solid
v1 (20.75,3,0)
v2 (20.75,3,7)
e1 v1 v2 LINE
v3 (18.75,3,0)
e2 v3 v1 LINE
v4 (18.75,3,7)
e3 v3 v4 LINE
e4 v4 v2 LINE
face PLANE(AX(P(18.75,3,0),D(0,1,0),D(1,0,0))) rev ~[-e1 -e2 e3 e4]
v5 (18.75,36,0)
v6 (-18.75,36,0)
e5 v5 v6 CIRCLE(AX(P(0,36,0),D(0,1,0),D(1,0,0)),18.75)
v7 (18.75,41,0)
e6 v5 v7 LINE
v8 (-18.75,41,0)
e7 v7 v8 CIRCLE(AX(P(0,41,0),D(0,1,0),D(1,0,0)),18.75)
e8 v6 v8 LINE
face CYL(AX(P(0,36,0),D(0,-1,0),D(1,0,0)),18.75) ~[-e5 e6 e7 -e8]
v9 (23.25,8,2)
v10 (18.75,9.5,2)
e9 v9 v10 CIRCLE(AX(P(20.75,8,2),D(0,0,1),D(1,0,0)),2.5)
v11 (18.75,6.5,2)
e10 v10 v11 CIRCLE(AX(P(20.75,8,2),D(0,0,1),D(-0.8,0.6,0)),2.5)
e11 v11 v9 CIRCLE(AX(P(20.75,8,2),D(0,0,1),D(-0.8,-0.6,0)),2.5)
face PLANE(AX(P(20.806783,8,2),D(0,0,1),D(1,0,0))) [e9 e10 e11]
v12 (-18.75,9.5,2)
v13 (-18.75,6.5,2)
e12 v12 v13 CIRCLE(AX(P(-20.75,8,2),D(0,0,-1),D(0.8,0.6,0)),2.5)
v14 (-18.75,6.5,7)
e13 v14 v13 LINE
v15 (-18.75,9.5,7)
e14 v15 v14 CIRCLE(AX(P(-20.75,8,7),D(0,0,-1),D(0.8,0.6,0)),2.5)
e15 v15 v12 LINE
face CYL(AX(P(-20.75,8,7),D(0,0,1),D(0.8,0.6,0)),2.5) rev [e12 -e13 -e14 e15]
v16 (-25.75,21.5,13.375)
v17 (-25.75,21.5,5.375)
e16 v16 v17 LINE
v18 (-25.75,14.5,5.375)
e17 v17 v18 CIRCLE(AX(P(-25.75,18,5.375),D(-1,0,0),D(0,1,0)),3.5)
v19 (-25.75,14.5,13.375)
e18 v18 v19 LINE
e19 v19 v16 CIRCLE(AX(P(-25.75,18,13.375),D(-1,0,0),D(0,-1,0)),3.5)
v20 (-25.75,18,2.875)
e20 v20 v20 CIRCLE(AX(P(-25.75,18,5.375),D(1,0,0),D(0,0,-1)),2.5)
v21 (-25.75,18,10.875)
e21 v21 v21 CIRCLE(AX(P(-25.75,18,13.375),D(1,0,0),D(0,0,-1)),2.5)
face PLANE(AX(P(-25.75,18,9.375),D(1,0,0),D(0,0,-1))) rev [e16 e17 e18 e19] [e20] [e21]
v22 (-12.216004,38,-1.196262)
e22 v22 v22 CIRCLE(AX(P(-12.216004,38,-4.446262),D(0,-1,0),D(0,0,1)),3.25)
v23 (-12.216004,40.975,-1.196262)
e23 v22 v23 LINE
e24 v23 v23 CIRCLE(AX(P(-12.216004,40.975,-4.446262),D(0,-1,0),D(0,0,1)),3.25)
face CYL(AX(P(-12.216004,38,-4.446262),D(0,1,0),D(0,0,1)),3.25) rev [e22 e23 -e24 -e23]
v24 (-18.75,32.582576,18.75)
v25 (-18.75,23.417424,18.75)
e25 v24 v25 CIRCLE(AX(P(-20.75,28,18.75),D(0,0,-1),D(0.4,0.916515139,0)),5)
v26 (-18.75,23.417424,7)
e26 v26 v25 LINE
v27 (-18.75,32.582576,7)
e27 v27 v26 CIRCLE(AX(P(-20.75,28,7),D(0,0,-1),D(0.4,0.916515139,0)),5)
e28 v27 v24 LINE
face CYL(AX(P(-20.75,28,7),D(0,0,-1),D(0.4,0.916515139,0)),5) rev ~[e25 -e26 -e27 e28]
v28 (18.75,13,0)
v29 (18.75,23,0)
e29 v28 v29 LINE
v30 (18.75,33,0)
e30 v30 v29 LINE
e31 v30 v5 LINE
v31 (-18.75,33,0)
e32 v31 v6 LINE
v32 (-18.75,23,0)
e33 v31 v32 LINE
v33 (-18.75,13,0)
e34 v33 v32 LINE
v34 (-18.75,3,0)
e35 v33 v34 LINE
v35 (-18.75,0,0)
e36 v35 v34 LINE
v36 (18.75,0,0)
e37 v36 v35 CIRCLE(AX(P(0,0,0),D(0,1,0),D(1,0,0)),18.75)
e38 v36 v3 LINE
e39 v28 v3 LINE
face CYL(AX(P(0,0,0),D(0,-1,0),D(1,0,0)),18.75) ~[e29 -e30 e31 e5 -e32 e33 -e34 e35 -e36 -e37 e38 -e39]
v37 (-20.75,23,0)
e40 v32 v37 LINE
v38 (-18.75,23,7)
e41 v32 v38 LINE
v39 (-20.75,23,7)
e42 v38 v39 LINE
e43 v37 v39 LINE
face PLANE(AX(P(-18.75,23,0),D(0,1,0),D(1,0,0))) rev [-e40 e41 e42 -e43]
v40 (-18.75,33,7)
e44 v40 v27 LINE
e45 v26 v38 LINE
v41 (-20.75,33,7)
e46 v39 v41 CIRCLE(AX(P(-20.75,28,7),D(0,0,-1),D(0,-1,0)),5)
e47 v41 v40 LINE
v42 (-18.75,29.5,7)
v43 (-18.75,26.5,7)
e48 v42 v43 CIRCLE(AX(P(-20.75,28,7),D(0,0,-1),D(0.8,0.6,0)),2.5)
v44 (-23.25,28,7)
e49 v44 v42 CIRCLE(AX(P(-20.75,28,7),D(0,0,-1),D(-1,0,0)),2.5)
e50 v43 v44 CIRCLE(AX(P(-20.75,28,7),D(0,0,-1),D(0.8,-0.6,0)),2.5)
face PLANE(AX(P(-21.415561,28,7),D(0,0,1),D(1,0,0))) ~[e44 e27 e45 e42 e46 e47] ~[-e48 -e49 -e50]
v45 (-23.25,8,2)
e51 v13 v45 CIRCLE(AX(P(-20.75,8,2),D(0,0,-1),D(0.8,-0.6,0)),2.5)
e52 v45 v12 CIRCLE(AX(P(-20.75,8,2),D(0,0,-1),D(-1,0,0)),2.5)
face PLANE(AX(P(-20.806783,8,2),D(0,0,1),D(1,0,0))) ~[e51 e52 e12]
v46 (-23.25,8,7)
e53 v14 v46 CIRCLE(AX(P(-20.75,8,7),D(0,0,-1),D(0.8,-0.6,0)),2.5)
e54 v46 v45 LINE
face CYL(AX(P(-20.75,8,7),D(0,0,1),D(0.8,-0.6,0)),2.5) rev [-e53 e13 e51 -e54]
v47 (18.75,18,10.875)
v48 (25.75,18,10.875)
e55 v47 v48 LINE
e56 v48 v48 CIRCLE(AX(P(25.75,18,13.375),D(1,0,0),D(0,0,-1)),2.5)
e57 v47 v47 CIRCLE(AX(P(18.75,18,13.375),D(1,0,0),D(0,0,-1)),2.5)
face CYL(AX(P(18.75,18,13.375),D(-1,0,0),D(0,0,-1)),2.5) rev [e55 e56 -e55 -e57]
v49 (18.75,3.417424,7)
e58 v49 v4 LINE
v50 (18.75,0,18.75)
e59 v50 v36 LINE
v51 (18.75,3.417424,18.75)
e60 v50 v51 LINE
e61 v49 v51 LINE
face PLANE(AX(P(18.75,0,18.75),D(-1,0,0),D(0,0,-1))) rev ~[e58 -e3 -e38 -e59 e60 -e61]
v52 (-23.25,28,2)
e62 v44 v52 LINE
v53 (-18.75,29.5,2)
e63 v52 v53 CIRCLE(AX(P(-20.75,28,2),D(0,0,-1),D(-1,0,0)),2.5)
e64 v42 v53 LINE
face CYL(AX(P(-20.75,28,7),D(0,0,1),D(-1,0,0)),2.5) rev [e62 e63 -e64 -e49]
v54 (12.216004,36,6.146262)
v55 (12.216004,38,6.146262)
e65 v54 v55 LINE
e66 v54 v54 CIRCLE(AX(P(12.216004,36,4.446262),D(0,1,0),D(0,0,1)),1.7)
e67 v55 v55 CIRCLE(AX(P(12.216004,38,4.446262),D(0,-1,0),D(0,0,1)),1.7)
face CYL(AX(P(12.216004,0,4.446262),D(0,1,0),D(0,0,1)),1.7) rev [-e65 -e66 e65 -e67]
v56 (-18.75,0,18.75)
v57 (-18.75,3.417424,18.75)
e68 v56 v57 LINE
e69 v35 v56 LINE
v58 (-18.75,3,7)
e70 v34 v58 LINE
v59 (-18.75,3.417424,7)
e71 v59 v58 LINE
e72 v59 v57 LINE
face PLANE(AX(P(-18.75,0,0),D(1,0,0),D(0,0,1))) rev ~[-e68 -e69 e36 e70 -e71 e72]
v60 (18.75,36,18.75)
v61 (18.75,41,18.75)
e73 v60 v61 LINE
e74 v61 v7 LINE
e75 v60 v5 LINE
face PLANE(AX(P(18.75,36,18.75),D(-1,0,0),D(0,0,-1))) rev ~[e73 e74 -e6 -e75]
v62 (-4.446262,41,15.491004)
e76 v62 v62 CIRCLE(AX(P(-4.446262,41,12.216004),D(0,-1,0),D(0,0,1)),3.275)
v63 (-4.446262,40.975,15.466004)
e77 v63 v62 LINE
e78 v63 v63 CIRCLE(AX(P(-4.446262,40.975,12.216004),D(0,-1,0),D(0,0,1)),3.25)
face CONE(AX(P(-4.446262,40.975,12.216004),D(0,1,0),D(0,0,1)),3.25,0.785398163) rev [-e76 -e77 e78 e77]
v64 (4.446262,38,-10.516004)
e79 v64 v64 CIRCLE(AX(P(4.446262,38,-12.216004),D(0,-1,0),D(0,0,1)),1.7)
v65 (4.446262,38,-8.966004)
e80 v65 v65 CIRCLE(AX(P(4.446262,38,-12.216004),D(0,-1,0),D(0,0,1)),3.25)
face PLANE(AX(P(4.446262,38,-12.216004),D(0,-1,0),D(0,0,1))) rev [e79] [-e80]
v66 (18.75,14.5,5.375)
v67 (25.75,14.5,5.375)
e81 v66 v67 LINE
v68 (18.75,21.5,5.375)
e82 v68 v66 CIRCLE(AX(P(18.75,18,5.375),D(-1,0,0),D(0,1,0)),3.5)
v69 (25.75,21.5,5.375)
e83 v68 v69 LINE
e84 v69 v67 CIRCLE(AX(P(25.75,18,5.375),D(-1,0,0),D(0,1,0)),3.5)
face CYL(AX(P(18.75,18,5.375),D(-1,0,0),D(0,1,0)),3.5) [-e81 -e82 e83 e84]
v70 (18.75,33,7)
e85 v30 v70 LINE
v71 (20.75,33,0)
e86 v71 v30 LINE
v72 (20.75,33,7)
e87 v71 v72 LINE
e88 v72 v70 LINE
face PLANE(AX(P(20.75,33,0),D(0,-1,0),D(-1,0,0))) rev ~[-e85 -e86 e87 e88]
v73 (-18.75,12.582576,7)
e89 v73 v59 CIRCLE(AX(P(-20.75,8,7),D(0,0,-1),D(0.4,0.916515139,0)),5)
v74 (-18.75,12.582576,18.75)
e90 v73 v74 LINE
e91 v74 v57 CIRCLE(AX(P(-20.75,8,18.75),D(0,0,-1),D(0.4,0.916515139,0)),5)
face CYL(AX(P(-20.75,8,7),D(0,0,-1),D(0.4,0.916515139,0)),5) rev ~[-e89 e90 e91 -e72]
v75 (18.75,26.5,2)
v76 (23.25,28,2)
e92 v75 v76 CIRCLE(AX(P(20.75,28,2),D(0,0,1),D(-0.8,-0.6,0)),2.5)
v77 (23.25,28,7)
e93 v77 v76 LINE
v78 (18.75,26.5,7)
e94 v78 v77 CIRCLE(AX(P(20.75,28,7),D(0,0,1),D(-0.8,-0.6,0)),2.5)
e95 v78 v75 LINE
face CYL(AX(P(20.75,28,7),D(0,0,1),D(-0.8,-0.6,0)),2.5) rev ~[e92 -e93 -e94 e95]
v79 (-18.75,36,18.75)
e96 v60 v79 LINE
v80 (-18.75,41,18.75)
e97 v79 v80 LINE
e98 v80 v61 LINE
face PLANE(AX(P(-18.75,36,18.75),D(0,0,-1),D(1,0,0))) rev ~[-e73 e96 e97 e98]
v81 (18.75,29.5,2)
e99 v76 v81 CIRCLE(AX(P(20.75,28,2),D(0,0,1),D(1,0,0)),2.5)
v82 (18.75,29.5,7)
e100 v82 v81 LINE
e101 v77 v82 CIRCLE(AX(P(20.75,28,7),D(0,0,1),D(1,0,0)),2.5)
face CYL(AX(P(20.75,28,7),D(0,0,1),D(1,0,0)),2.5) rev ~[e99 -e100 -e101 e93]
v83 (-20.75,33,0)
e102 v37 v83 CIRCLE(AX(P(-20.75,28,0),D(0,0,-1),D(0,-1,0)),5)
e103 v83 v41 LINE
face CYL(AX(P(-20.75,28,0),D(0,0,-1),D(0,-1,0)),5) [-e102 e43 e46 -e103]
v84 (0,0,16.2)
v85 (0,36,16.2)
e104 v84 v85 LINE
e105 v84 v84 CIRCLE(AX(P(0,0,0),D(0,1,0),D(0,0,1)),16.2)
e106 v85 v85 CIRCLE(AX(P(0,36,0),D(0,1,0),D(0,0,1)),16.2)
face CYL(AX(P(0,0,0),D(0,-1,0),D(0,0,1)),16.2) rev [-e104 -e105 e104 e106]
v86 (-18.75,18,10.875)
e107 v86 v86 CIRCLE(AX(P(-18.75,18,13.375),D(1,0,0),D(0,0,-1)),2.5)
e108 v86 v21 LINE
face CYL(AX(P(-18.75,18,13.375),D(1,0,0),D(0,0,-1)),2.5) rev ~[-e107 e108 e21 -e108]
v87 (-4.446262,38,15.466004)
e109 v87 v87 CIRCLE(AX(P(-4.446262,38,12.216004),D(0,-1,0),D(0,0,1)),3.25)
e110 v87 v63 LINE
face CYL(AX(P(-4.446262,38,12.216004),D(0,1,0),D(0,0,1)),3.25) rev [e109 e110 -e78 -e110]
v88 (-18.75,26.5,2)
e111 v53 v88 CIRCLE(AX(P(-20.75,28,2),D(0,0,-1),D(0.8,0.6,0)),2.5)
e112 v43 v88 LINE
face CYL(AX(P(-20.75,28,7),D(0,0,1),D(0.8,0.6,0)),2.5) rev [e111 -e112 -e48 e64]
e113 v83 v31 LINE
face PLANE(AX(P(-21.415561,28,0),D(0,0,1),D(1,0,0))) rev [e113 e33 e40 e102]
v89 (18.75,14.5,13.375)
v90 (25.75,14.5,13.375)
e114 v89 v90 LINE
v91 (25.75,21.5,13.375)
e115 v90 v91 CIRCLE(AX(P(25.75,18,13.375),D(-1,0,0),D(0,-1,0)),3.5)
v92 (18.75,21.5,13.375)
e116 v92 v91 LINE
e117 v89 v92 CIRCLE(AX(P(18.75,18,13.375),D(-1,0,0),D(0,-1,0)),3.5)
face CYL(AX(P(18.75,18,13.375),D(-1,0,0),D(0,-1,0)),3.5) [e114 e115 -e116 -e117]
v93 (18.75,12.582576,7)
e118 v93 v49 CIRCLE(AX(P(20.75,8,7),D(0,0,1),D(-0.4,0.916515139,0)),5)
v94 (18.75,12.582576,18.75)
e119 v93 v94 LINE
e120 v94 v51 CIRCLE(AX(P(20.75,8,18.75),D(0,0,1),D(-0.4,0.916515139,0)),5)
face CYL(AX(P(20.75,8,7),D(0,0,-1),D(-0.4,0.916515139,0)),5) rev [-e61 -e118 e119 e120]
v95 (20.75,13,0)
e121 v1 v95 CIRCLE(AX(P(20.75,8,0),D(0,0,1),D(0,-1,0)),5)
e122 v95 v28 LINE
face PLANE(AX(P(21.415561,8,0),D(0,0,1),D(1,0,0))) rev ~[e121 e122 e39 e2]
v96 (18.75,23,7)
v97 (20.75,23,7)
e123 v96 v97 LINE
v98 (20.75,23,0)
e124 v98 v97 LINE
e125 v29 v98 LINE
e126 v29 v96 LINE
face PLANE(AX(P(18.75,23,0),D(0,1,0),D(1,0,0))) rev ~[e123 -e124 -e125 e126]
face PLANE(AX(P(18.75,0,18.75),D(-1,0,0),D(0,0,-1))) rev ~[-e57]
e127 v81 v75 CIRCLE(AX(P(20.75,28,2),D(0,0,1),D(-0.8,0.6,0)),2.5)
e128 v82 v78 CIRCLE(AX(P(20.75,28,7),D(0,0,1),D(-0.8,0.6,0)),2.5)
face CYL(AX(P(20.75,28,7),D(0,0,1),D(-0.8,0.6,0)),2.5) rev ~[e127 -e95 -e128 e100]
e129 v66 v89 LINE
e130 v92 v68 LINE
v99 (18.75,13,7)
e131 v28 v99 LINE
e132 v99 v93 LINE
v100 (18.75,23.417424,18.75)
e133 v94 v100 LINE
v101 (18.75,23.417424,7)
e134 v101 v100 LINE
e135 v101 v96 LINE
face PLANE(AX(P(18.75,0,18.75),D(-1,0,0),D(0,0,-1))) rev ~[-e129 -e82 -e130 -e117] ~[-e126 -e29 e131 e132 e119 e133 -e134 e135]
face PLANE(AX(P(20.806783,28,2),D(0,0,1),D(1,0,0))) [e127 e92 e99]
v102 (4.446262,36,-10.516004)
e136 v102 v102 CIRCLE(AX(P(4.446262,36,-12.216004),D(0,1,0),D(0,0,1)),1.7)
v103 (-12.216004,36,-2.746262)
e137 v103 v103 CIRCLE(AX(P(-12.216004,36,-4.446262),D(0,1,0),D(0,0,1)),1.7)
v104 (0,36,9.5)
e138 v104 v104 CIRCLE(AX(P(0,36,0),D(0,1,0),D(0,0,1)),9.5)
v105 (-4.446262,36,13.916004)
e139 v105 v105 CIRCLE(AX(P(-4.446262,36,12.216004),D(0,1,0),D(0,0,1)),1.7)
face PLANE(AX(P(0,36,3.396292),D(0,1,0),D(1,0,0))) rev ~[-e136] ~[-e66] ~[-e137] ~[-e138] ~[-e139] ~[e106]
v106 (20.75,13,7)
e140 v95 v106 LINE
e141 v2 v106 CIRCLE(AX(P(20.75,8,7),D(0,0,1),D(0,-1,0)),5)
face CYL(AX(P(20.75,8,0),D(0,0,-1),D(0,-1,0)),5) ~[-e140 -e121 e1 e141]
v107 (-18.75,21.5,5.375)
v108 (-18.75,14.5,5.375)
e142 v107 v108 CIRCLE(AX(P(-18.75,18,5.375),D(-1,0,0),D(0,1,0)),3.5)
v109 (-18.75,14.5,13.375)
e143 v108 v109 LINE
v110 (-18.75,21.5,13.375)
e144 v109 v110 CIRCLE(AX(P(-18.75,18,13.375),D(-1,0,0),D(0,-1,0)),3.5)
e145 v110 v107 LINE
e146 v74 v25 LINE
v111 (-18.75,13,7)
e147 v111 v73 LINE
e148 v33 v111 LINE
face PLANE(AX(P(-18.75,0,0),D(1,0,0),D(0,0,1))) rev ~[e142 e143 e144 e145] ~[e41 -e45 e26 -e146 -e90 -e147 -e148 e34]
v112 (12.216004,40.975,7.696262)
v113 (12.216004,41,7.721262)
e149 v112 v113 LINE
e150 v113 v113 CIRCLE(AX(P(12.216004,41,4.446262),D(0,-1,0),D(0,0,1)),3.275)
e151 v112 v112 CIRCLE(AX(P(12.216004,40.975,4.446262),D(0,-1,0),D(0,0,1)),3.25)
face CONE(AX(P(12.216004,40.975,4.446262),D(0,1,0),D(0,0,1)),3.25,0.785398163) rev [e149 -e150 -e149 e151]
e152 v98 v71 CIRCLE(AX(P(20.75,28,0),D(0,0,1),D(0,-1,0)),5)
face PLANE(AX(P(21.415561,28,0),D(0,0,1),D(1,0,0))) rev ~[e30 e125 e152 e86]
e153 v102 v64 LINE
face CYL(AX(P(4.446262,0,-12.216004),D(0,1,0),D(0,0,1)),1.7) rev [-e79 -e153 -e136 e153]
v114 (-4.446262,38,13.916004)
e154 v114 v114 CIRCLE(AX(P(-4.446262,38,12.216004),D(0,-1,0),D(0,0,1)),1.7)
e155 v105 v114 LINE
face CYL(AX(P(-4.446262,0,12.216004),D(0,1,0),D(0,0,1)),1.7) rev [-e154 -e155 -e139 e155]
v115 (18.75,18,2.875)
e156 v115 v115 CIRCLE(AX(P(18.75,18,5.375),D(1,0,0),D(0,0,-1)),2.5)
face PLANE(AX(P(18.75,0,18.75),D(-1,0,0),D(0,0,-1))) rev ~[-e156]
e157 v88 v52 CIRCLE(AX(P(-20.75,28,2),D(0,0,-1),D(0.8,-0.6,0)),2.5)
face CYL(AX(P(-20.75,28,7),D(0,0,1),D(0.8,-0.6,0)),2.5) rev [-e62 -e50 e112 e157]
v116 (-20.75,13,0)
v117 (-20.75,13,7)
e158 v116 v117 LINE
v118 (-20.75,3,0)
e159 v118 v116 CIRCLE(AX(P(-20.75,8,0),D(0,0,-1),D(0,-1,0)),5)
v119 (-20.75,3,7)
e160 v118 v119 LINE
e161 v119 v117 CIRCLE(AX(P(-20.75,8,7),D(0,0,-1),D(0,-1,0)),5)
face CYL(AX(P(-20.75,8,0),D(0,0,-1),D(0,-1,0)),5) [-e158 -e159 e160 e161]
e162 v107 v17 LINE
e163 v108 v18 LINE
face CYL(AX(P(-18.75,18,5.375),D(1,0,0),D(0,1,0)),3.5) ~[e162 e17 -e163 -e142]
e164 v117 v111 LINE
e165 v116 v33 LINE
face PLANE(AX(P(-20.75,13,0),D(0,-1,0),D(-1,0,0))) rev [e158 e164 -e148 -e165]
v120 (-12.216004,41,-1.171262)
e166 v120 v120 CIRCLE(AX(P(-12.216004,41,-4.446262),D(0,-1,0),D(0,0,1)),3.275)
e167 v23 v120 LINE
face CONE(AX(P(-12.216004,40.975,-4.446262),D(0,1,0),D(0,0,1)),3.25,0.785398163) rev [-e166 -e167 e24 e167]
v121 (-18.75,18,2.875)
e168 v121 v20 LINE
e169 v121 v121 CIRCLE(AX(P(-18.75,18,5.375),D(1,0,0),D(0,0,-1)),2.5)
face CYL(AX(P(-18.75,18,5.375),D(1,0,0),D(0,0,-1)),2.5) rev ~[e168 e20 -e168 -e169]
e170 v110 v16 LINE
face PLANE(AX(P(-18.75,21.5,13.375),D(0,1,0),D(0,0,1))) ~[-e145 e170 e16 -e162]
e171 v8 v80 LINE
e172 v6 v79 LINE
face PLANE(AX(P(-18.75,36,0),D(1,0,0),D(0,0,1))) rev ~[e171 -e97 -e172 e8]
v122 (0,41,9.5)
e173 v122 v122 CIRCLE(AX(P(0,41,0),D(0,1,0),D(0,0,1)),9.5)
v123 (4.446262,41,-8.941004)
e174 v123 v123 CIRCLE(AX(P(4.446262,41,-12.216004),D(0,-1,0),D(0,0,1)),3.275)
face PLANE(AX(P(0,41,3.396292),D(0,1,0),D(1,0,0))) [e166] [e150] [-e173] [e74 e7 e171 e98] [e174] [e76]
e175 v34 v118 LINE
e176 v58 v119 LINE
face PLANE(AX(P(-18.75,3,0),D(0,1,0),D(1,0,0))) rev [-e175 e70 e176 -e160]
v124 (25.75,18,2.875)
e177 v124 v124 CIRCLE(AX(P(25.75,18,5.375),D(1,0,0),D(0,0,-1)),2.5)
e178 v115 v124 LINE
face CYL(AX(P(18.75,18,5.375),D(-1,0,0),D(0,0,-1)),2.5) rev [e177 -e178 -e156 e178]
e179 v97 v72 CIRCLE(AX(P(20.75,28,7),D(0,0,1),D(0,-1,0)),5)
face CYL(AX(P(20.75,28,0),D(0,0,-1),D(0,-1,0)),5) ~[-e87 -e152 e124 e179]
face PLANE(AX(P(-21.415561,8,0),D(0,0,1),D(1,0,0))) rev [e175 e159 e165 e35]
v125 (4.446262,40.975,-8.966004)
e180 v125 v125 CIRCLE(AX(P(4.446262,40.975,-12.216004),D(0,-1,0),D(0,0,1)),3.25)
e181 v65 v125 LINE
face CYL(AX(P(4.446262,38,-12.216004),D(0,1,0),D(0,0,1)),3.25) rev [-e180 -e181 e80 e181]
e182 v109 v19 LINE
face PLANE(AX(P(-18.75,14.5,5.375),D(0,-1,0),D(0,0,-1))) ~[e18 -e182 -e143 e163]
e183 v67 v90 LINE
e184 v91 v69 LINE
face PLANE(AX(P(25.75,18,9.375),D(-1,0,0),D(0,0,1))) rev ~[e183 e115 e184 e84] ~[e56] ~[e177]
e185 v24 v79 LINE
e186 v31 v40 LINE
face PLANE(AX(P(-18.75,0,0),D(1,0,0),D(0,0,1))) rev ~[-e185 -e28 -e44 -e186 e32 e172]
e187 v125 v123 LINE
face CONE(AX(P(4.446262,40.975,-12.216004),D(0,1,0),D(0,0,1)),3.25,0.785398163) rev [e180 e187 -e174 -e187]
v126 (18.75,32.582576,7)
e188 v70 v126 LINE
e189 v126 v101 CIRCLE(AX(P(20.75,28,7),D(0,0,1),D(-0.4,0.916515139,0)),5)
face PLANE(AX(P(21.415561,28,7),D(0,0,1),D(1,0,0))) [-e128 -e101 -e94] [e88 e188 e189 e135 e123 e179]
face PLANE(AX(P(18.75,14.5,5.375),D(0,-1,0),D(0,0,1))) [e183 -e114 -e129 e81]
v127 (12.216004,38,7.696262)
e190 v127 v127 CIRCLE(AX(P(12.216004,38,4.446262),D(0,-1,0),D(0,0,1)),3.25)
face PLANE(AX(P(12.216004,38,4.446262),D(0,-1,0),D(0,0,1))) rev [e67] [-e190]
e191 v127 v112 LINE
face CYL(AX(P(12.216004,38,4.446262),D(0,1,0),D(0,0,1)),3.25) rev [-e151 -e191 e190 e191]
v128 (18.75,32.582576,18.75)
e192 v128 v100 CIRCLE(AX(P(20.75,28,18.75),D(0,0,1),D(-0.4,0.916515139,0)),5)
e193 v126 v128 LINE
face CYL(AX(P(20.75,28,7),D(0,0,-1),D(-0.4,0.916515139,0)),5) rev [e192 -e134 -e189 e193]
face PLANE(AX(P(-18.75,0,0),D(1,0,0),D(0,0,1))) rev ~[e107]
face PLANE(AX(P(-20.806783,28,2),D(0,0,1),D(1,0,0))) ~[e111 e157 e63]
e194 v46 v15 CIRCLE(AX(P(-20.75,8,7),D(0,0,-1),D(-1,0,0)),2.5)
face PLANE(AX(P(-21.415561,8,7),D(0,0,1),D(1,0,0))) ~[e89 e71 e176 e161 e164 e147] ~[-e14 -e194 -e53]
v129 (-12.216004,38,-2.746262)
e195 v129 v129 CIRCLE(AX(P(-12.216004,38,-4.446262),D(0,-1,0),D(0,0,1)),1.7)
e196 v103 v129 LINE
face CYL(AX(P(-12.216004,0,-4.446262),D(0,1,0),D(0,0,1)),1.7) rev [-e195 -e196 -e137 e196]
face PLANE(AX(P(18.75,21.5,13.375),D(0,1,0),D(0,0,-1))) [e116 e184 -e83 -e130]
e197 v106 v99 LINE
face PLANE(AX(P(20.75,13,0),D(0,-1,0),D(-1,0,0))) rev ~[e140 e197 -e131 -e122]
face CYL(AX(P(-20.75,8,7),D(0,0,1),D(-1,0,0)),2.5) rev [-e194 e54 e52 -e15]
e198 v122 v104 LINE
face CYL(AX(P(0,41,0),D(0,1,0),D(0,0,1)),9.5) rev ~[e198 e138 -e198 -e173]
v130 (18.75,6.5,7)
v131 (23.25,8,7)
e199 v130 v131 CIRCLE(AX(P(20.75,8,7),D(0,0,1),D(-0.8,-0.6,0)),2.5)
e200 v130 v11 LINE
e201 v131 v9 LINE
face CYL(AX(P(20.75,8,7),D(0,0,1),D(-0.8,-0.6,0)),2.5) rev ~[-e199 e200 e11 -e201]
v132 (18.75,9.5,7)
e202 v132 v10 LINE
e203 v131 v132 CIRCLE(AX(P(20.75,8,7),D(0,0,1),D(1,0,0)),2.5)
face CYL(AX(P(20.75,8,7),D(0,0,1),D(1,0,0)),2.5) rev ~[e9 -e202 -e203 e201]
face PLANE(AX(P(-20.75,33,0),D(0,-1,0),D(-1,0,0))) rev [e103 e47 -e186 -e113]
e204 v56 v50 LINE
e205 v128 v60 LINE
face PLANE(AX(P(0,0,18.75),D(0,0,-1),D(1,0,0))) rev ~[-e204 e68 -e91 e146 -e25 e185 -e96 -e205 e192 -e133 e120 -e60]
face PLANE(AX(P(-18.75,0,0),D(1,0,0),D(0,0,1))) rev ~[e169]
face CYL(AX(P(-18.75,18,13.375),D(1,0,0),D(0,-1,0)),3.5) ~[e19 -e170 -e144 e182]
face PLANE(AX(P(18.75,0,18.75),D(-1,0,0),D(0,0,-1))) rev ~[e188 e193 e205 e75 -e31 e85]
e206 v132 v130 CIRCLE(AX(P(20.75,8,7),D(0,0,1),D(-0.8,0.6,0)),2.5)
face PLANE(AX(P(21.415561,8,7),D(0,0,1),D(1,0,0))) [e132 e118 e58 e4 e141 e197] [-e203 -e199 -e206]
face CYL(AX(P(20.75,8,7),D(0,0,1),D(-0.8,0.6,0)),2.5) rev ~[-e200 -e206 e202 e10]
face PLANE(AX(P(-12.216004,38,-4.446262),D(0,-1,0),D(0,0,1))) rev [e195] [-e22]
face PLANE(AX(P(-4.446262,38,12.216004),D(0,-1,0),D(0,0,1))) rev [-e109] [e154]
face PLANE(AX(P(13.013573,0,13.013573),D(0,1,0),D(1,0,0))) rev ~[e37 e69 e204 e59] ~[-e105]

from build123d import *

# Parameters (mm, degrees)
SKETCH1_R                     = 18.75
SKETCH1_R_2                   = 16.2
BOSS_EXTRUDE1_DEPTH           = 36
BOSS_EXTRUDE2_DEPTH           = 7
CUT_EXTRUDE2_START            = 7
CUT_EXTRUDE2_DEPTH            = 11.75
CUT_EXTRUDE5_START            = 7
CUT_EXTRUDE5_DEPTH            = 5
SKETCH8_R                     = 2.5
BOSS_EXTRUDE5_DEPTH           = 7
BOSS_EXTRUDE4_DEPTH           = 5
CUT_EXTRUDE3_REACH            = 53.919
SKETCH4_R                     = 9.5
CBORE_FOR_M3_SHCS1_AT_2_COUNT = 2
CBORE_FOR_M3_SHCS1_AT_2_PITCH = 18.384776311
CBORE_FOR_M3_SHCS1_AT_3_COUNT = 2
CBORE_FOR_M3_SHCS1_AT_3_PITCH = 26
CBORE_FOR_M3_SHCS1_AT_4_COUNT = 2
CBORE_FOR_M3_SHCS1_AT_4_PITCH = 18.384776311


with BuildPart() as part:
    # Sketch1 → Boss-Extrude1 (new body)
    # profile 1 of 3: a face of its own
    with BuildSketch(Plane(origin=(0, 0, 0), x_dir=(1, 0, 0), z_dir=(0, 1, 0))):
        with BuildLine():
            ThreePointArc((0, -18.75), (-13.258252147, -13.258252147), (-18.75, 0))
            Line((-18.75, 0), (-18.75, -18.75))
            Line((-18.75, -18.75), (0, -18.75))
        make_face()
    # profile 2 of 3: a face of its own
    with BuildSketch(Plane(origin=(0, 0, 0), x_dir=(1, 0, 0), z_dir=(0, 1, 0))):
        Circle(SKETCH1_R)
        with Locations(Location((0, 0, 0), (0, 0, 270))):
            Circle(SKETCH1_R_2, mode=Mode.SUBTRACT)
    # profile 3 of 3: a face of its own
    with BuildSketch(Plane(origin=(0, 0, 0), x_dir=(1, 0, 0), z_dir=(0, 1, 0))):
        with BuildLine():
            Line((18.75, -18.75), (18.75, 0))
            ThreePointArc((18.75, 0), (13.258252147, -13.258252147), (0, -18.75))
            Line((0, -18.75), (18.75, -18.75))
        make_face()
    extrude(amount=BOSS_EXTRUDE1_DEPTH)

    # Sketch2 → Boss-Extrude2 (add)
    with BuildSketch(Plane.XY):
        with BuildLine():
            Line((18.75, 33), (18.75, 23))
            Line((18.75, 23), (20.75, 23))
            ThreePointArc((20.75, 23), (25.75, 28), (20.75, 33))
            Line((20.75, 33), (18.75, 33))
        make_face()
        with BuildLine():
            Line((20.75, 13), (18.75, 13))
            Line((18.75, 13), (18.75, 3))
            Line((18.75, 3), (20.75, 3))
            ThreePointArc((20.75, 3), (25.75, 8), (20.75, 13))
        make_face()
    boss_extrude2 = extrude(amount=BOSS_EXTRUDE2_DEPTH)

    # Sketch2<5> → Cut-Extrude2 (cut)
    with BuildSketch(Plane.XY.offset(CUT_EXTRUDE2_START)):
        with BuildLine():
            ThreePointArc((18.75, 32.582575695), (15.75, 28), (18.75, 23.417424305))
            Line((18.75, 23.417424305), (18.75, 32.582575695))
        make_face()
        with BuildLine():
            ThreePointArc((18.75, 12.582575695), (15.75, 8), (18.75, 3.417424305))
            Line((18.75, 3.417424305), (18.75, 12.582575695))
        make_face()
    cut_extrude2 = extrude(amount=CUT_EXTRUDE2_DEPTH, mode=Mode.SUBTRACT)

    # Sketch2<7> → Cut-Extrude5 (cut)
    with BuildSketch(Plane.XY.offset(CUT_EXTRUDE5_START)):
        with BuildLine():
            ThreePointArc((23.25, 28), (21.540569415, 30.371708245), (18.75, 29.5))
            Line((18.75, 29.5), (18.75, 26.5))
            ThreePointArc((18.75, 26.5), (21.540569415, 25.628291755), (23.25, 28))
        make_face()
        with BuildLine():
            Line((18.75, 26.5), (18.75, 29.5))
            ThreePointArc((18.75, 29.5), (18.25, 28), (18.75, 26.5))
        make_face()
        with BuildLine():
            ThreePointArc((23.25, 8), (21.540569415, 10.371708245), (18.75, 9.5))
            Line((18.75, 9.5), (18.75, 6.5))
            ThreePointArc((18.75, 6.5), (21.540569415, 5.628291755), (23.25, 8))
        make_face()
        with BuildLine():
            Line((18.75, 6.5), (18.75, 9.5))
            ThreePointArc((18.75, 9.5), (18.25, 8), (18.75, 6.5))
        make_face()
    cut_extrude5 = extrude(amount=-CUT_EXTRUDE5_DEPTH, mode=Mode.SUBTRACT)

    # Sketch8 → Boss-Extrude5 (add)
    with BuildSketch(Plane(origin=(18.75, 0, 0), x_dir=(0, 0, -1), z_dir=(1, 0, 0))):
        with BuildLine():
            Line((-13.375, 21.5), (-5.375, 21.5))
            ThreePointArc((-5.375, 21.5), (-1.875, 18), (-5.375, 14.5))
            Line((-5.375, 14.5), (-13.375, 14.5))
            ThreePointArc((-13.375, 14.5), (-16.875, 18), (-13.375, 21.5))
        make_face()
        with Locations((-13.375, 18)):
            Circle(SKETCH8_R, mode=Mode.SUBTRACT)
        with Locations((-5.375, 18)):
            Circle(SKETCH8_R, mode=Mode.SUBTRACT)
    boss_extrude5 = extrude(amount=BOSS_EXTRUDE5_DEPTH)

    # Mirror1: Boss-Extrude2, Cut-Extrude2, Cut-Extrude5, Boss-Extrude5 across plane
    add(boss_extrude2.mirror(Plane(origin=(0, 0, 0), x_dir=(0, 0, 1), z_dir=(1, 0, 0))))
    add(cut_extrude2.mirror(Plane(origin=(0, 0, 0), x_dir=(0, 0, 1), z_dir=(1, 0, 0))), mode=Mode.SUBTRACT)
    add(cut_extrude5.mirror(Plane(origin=(0, 0, 0), x_dir=(0, 0, 1), z_dir=(1, 0, 0))), mode=Mode.SUBTRACT)
    add(boss_extrude5.mirror(Plane(origin=(0, 0, 0), x_dir=(0, 0, 1), z_dir=(1, 0, 0))))

    # Sketch3 → Boss-Extrude4 (add)
    with BuildSketch(Plane(origin=(0, 36, 0), x_dir=(1, 0, 0), z_dir=(0, 1, 0))):
        with BuildLine():
            Line((-18.75, -18.75), (18.75, -18.75))
            Line((18.75, -18.75), (18.75, 0))
            ThreePointArc((18.75, 0), (0, 18.75), (-18.75, 0))
            Line((-18.75, 0), (-18.75, -18.75))
        make_face()
    extrude(amount=BOSS_EXTRUDE4_DEPTH)

    # Sketch4 → Cut-Extrude3 (cut, up to next)
    with BuildSketch(Plane(origin=(0, 41, 0), x_dir=(1, 0, 0), z_dir=(0, 1, 0)), mode=Mode.PRIVATE) as cut_extrude3_sk1:
        with Locations(Location((0, 0, 0), (0, 0, 270))):
            Circle(SKETCH4_R)
    cut_extrude3_tool1 = extrude(cut_extrude3_sk1.sketch, amount=-CUT_EXTRUDE3_REACH, mode=Mode.PRIVATE) & part.part
    add(cut_extrude3_tool1.solids().sort_by_distance((0, 41, 0))[0], mode=Mode.SUBTRACT)

    # Sketch6 → CBORE for M3 SHCS1 (revolve, cut)
    with BuildSketch(Plane(origin=(-12.21600407, 41, -4.446261863), x_dir=(0, 0, 1), z_dir=(1, 0, 0))):
        Polygon((0, 0), (0, 41), (1.7, 41), (1.7, 3), (3.25, 3), (3.25, 0.025), (3.275, 0), align=None)
    cbore_for_m3_shcs1 = revolve(axis=Axis((-12.21600407, 47.35, -4.446261863), (0, -1, 0)), mode=Mode.SUBTRACT)

    # CBORE for M3 SHCS1 at 2: CBORE for M3 SHCS1 ×2
    with Locations(*[Vector(0.9063077870366504, 0, -0.42261826174069866) * (i * CBORE_FOR_M3_SHCS1_AT_2_PITCH) for i in range(1, CBORE_FOR_M3_SHCS1_AT_2_COUNT)]):
        add(cbore_for_m3_shcs1, mode=Mode.SUBTRACT)

    # CBORE for M3 SHCS1 at 3: CBORE for M3 SHCS1 ×2
    with Locations(*[Vector(0.9396926207859081, 0, 0.34202014332566943) * (i * CBORE_FOR_M3_SHCS1_AT_3_PITCH) for i in range(1, CBORE_FOR_M3_SHCS1_AT_3_COUNT)]):
        add(cbore_for_m3_shcs1, mode=Mode.SUBTRACT)

    # CBORE for M3 SHCS1 at 4: CBORE for M3 SHCS1 ×2
    with Locations(*[Vector(0.42261826174069556, 0, 0.9063077870366518) * (i * CBORE_FOR_M3_SHCS1_AT_4_PITCH) for i in range(1, CBORE_FOR_M3_SHCS1_AT_4_COUNT)]):
        add(cbore_for_m3_shcs1, mode=Mode.SUBTRACT)


solid = part.part
